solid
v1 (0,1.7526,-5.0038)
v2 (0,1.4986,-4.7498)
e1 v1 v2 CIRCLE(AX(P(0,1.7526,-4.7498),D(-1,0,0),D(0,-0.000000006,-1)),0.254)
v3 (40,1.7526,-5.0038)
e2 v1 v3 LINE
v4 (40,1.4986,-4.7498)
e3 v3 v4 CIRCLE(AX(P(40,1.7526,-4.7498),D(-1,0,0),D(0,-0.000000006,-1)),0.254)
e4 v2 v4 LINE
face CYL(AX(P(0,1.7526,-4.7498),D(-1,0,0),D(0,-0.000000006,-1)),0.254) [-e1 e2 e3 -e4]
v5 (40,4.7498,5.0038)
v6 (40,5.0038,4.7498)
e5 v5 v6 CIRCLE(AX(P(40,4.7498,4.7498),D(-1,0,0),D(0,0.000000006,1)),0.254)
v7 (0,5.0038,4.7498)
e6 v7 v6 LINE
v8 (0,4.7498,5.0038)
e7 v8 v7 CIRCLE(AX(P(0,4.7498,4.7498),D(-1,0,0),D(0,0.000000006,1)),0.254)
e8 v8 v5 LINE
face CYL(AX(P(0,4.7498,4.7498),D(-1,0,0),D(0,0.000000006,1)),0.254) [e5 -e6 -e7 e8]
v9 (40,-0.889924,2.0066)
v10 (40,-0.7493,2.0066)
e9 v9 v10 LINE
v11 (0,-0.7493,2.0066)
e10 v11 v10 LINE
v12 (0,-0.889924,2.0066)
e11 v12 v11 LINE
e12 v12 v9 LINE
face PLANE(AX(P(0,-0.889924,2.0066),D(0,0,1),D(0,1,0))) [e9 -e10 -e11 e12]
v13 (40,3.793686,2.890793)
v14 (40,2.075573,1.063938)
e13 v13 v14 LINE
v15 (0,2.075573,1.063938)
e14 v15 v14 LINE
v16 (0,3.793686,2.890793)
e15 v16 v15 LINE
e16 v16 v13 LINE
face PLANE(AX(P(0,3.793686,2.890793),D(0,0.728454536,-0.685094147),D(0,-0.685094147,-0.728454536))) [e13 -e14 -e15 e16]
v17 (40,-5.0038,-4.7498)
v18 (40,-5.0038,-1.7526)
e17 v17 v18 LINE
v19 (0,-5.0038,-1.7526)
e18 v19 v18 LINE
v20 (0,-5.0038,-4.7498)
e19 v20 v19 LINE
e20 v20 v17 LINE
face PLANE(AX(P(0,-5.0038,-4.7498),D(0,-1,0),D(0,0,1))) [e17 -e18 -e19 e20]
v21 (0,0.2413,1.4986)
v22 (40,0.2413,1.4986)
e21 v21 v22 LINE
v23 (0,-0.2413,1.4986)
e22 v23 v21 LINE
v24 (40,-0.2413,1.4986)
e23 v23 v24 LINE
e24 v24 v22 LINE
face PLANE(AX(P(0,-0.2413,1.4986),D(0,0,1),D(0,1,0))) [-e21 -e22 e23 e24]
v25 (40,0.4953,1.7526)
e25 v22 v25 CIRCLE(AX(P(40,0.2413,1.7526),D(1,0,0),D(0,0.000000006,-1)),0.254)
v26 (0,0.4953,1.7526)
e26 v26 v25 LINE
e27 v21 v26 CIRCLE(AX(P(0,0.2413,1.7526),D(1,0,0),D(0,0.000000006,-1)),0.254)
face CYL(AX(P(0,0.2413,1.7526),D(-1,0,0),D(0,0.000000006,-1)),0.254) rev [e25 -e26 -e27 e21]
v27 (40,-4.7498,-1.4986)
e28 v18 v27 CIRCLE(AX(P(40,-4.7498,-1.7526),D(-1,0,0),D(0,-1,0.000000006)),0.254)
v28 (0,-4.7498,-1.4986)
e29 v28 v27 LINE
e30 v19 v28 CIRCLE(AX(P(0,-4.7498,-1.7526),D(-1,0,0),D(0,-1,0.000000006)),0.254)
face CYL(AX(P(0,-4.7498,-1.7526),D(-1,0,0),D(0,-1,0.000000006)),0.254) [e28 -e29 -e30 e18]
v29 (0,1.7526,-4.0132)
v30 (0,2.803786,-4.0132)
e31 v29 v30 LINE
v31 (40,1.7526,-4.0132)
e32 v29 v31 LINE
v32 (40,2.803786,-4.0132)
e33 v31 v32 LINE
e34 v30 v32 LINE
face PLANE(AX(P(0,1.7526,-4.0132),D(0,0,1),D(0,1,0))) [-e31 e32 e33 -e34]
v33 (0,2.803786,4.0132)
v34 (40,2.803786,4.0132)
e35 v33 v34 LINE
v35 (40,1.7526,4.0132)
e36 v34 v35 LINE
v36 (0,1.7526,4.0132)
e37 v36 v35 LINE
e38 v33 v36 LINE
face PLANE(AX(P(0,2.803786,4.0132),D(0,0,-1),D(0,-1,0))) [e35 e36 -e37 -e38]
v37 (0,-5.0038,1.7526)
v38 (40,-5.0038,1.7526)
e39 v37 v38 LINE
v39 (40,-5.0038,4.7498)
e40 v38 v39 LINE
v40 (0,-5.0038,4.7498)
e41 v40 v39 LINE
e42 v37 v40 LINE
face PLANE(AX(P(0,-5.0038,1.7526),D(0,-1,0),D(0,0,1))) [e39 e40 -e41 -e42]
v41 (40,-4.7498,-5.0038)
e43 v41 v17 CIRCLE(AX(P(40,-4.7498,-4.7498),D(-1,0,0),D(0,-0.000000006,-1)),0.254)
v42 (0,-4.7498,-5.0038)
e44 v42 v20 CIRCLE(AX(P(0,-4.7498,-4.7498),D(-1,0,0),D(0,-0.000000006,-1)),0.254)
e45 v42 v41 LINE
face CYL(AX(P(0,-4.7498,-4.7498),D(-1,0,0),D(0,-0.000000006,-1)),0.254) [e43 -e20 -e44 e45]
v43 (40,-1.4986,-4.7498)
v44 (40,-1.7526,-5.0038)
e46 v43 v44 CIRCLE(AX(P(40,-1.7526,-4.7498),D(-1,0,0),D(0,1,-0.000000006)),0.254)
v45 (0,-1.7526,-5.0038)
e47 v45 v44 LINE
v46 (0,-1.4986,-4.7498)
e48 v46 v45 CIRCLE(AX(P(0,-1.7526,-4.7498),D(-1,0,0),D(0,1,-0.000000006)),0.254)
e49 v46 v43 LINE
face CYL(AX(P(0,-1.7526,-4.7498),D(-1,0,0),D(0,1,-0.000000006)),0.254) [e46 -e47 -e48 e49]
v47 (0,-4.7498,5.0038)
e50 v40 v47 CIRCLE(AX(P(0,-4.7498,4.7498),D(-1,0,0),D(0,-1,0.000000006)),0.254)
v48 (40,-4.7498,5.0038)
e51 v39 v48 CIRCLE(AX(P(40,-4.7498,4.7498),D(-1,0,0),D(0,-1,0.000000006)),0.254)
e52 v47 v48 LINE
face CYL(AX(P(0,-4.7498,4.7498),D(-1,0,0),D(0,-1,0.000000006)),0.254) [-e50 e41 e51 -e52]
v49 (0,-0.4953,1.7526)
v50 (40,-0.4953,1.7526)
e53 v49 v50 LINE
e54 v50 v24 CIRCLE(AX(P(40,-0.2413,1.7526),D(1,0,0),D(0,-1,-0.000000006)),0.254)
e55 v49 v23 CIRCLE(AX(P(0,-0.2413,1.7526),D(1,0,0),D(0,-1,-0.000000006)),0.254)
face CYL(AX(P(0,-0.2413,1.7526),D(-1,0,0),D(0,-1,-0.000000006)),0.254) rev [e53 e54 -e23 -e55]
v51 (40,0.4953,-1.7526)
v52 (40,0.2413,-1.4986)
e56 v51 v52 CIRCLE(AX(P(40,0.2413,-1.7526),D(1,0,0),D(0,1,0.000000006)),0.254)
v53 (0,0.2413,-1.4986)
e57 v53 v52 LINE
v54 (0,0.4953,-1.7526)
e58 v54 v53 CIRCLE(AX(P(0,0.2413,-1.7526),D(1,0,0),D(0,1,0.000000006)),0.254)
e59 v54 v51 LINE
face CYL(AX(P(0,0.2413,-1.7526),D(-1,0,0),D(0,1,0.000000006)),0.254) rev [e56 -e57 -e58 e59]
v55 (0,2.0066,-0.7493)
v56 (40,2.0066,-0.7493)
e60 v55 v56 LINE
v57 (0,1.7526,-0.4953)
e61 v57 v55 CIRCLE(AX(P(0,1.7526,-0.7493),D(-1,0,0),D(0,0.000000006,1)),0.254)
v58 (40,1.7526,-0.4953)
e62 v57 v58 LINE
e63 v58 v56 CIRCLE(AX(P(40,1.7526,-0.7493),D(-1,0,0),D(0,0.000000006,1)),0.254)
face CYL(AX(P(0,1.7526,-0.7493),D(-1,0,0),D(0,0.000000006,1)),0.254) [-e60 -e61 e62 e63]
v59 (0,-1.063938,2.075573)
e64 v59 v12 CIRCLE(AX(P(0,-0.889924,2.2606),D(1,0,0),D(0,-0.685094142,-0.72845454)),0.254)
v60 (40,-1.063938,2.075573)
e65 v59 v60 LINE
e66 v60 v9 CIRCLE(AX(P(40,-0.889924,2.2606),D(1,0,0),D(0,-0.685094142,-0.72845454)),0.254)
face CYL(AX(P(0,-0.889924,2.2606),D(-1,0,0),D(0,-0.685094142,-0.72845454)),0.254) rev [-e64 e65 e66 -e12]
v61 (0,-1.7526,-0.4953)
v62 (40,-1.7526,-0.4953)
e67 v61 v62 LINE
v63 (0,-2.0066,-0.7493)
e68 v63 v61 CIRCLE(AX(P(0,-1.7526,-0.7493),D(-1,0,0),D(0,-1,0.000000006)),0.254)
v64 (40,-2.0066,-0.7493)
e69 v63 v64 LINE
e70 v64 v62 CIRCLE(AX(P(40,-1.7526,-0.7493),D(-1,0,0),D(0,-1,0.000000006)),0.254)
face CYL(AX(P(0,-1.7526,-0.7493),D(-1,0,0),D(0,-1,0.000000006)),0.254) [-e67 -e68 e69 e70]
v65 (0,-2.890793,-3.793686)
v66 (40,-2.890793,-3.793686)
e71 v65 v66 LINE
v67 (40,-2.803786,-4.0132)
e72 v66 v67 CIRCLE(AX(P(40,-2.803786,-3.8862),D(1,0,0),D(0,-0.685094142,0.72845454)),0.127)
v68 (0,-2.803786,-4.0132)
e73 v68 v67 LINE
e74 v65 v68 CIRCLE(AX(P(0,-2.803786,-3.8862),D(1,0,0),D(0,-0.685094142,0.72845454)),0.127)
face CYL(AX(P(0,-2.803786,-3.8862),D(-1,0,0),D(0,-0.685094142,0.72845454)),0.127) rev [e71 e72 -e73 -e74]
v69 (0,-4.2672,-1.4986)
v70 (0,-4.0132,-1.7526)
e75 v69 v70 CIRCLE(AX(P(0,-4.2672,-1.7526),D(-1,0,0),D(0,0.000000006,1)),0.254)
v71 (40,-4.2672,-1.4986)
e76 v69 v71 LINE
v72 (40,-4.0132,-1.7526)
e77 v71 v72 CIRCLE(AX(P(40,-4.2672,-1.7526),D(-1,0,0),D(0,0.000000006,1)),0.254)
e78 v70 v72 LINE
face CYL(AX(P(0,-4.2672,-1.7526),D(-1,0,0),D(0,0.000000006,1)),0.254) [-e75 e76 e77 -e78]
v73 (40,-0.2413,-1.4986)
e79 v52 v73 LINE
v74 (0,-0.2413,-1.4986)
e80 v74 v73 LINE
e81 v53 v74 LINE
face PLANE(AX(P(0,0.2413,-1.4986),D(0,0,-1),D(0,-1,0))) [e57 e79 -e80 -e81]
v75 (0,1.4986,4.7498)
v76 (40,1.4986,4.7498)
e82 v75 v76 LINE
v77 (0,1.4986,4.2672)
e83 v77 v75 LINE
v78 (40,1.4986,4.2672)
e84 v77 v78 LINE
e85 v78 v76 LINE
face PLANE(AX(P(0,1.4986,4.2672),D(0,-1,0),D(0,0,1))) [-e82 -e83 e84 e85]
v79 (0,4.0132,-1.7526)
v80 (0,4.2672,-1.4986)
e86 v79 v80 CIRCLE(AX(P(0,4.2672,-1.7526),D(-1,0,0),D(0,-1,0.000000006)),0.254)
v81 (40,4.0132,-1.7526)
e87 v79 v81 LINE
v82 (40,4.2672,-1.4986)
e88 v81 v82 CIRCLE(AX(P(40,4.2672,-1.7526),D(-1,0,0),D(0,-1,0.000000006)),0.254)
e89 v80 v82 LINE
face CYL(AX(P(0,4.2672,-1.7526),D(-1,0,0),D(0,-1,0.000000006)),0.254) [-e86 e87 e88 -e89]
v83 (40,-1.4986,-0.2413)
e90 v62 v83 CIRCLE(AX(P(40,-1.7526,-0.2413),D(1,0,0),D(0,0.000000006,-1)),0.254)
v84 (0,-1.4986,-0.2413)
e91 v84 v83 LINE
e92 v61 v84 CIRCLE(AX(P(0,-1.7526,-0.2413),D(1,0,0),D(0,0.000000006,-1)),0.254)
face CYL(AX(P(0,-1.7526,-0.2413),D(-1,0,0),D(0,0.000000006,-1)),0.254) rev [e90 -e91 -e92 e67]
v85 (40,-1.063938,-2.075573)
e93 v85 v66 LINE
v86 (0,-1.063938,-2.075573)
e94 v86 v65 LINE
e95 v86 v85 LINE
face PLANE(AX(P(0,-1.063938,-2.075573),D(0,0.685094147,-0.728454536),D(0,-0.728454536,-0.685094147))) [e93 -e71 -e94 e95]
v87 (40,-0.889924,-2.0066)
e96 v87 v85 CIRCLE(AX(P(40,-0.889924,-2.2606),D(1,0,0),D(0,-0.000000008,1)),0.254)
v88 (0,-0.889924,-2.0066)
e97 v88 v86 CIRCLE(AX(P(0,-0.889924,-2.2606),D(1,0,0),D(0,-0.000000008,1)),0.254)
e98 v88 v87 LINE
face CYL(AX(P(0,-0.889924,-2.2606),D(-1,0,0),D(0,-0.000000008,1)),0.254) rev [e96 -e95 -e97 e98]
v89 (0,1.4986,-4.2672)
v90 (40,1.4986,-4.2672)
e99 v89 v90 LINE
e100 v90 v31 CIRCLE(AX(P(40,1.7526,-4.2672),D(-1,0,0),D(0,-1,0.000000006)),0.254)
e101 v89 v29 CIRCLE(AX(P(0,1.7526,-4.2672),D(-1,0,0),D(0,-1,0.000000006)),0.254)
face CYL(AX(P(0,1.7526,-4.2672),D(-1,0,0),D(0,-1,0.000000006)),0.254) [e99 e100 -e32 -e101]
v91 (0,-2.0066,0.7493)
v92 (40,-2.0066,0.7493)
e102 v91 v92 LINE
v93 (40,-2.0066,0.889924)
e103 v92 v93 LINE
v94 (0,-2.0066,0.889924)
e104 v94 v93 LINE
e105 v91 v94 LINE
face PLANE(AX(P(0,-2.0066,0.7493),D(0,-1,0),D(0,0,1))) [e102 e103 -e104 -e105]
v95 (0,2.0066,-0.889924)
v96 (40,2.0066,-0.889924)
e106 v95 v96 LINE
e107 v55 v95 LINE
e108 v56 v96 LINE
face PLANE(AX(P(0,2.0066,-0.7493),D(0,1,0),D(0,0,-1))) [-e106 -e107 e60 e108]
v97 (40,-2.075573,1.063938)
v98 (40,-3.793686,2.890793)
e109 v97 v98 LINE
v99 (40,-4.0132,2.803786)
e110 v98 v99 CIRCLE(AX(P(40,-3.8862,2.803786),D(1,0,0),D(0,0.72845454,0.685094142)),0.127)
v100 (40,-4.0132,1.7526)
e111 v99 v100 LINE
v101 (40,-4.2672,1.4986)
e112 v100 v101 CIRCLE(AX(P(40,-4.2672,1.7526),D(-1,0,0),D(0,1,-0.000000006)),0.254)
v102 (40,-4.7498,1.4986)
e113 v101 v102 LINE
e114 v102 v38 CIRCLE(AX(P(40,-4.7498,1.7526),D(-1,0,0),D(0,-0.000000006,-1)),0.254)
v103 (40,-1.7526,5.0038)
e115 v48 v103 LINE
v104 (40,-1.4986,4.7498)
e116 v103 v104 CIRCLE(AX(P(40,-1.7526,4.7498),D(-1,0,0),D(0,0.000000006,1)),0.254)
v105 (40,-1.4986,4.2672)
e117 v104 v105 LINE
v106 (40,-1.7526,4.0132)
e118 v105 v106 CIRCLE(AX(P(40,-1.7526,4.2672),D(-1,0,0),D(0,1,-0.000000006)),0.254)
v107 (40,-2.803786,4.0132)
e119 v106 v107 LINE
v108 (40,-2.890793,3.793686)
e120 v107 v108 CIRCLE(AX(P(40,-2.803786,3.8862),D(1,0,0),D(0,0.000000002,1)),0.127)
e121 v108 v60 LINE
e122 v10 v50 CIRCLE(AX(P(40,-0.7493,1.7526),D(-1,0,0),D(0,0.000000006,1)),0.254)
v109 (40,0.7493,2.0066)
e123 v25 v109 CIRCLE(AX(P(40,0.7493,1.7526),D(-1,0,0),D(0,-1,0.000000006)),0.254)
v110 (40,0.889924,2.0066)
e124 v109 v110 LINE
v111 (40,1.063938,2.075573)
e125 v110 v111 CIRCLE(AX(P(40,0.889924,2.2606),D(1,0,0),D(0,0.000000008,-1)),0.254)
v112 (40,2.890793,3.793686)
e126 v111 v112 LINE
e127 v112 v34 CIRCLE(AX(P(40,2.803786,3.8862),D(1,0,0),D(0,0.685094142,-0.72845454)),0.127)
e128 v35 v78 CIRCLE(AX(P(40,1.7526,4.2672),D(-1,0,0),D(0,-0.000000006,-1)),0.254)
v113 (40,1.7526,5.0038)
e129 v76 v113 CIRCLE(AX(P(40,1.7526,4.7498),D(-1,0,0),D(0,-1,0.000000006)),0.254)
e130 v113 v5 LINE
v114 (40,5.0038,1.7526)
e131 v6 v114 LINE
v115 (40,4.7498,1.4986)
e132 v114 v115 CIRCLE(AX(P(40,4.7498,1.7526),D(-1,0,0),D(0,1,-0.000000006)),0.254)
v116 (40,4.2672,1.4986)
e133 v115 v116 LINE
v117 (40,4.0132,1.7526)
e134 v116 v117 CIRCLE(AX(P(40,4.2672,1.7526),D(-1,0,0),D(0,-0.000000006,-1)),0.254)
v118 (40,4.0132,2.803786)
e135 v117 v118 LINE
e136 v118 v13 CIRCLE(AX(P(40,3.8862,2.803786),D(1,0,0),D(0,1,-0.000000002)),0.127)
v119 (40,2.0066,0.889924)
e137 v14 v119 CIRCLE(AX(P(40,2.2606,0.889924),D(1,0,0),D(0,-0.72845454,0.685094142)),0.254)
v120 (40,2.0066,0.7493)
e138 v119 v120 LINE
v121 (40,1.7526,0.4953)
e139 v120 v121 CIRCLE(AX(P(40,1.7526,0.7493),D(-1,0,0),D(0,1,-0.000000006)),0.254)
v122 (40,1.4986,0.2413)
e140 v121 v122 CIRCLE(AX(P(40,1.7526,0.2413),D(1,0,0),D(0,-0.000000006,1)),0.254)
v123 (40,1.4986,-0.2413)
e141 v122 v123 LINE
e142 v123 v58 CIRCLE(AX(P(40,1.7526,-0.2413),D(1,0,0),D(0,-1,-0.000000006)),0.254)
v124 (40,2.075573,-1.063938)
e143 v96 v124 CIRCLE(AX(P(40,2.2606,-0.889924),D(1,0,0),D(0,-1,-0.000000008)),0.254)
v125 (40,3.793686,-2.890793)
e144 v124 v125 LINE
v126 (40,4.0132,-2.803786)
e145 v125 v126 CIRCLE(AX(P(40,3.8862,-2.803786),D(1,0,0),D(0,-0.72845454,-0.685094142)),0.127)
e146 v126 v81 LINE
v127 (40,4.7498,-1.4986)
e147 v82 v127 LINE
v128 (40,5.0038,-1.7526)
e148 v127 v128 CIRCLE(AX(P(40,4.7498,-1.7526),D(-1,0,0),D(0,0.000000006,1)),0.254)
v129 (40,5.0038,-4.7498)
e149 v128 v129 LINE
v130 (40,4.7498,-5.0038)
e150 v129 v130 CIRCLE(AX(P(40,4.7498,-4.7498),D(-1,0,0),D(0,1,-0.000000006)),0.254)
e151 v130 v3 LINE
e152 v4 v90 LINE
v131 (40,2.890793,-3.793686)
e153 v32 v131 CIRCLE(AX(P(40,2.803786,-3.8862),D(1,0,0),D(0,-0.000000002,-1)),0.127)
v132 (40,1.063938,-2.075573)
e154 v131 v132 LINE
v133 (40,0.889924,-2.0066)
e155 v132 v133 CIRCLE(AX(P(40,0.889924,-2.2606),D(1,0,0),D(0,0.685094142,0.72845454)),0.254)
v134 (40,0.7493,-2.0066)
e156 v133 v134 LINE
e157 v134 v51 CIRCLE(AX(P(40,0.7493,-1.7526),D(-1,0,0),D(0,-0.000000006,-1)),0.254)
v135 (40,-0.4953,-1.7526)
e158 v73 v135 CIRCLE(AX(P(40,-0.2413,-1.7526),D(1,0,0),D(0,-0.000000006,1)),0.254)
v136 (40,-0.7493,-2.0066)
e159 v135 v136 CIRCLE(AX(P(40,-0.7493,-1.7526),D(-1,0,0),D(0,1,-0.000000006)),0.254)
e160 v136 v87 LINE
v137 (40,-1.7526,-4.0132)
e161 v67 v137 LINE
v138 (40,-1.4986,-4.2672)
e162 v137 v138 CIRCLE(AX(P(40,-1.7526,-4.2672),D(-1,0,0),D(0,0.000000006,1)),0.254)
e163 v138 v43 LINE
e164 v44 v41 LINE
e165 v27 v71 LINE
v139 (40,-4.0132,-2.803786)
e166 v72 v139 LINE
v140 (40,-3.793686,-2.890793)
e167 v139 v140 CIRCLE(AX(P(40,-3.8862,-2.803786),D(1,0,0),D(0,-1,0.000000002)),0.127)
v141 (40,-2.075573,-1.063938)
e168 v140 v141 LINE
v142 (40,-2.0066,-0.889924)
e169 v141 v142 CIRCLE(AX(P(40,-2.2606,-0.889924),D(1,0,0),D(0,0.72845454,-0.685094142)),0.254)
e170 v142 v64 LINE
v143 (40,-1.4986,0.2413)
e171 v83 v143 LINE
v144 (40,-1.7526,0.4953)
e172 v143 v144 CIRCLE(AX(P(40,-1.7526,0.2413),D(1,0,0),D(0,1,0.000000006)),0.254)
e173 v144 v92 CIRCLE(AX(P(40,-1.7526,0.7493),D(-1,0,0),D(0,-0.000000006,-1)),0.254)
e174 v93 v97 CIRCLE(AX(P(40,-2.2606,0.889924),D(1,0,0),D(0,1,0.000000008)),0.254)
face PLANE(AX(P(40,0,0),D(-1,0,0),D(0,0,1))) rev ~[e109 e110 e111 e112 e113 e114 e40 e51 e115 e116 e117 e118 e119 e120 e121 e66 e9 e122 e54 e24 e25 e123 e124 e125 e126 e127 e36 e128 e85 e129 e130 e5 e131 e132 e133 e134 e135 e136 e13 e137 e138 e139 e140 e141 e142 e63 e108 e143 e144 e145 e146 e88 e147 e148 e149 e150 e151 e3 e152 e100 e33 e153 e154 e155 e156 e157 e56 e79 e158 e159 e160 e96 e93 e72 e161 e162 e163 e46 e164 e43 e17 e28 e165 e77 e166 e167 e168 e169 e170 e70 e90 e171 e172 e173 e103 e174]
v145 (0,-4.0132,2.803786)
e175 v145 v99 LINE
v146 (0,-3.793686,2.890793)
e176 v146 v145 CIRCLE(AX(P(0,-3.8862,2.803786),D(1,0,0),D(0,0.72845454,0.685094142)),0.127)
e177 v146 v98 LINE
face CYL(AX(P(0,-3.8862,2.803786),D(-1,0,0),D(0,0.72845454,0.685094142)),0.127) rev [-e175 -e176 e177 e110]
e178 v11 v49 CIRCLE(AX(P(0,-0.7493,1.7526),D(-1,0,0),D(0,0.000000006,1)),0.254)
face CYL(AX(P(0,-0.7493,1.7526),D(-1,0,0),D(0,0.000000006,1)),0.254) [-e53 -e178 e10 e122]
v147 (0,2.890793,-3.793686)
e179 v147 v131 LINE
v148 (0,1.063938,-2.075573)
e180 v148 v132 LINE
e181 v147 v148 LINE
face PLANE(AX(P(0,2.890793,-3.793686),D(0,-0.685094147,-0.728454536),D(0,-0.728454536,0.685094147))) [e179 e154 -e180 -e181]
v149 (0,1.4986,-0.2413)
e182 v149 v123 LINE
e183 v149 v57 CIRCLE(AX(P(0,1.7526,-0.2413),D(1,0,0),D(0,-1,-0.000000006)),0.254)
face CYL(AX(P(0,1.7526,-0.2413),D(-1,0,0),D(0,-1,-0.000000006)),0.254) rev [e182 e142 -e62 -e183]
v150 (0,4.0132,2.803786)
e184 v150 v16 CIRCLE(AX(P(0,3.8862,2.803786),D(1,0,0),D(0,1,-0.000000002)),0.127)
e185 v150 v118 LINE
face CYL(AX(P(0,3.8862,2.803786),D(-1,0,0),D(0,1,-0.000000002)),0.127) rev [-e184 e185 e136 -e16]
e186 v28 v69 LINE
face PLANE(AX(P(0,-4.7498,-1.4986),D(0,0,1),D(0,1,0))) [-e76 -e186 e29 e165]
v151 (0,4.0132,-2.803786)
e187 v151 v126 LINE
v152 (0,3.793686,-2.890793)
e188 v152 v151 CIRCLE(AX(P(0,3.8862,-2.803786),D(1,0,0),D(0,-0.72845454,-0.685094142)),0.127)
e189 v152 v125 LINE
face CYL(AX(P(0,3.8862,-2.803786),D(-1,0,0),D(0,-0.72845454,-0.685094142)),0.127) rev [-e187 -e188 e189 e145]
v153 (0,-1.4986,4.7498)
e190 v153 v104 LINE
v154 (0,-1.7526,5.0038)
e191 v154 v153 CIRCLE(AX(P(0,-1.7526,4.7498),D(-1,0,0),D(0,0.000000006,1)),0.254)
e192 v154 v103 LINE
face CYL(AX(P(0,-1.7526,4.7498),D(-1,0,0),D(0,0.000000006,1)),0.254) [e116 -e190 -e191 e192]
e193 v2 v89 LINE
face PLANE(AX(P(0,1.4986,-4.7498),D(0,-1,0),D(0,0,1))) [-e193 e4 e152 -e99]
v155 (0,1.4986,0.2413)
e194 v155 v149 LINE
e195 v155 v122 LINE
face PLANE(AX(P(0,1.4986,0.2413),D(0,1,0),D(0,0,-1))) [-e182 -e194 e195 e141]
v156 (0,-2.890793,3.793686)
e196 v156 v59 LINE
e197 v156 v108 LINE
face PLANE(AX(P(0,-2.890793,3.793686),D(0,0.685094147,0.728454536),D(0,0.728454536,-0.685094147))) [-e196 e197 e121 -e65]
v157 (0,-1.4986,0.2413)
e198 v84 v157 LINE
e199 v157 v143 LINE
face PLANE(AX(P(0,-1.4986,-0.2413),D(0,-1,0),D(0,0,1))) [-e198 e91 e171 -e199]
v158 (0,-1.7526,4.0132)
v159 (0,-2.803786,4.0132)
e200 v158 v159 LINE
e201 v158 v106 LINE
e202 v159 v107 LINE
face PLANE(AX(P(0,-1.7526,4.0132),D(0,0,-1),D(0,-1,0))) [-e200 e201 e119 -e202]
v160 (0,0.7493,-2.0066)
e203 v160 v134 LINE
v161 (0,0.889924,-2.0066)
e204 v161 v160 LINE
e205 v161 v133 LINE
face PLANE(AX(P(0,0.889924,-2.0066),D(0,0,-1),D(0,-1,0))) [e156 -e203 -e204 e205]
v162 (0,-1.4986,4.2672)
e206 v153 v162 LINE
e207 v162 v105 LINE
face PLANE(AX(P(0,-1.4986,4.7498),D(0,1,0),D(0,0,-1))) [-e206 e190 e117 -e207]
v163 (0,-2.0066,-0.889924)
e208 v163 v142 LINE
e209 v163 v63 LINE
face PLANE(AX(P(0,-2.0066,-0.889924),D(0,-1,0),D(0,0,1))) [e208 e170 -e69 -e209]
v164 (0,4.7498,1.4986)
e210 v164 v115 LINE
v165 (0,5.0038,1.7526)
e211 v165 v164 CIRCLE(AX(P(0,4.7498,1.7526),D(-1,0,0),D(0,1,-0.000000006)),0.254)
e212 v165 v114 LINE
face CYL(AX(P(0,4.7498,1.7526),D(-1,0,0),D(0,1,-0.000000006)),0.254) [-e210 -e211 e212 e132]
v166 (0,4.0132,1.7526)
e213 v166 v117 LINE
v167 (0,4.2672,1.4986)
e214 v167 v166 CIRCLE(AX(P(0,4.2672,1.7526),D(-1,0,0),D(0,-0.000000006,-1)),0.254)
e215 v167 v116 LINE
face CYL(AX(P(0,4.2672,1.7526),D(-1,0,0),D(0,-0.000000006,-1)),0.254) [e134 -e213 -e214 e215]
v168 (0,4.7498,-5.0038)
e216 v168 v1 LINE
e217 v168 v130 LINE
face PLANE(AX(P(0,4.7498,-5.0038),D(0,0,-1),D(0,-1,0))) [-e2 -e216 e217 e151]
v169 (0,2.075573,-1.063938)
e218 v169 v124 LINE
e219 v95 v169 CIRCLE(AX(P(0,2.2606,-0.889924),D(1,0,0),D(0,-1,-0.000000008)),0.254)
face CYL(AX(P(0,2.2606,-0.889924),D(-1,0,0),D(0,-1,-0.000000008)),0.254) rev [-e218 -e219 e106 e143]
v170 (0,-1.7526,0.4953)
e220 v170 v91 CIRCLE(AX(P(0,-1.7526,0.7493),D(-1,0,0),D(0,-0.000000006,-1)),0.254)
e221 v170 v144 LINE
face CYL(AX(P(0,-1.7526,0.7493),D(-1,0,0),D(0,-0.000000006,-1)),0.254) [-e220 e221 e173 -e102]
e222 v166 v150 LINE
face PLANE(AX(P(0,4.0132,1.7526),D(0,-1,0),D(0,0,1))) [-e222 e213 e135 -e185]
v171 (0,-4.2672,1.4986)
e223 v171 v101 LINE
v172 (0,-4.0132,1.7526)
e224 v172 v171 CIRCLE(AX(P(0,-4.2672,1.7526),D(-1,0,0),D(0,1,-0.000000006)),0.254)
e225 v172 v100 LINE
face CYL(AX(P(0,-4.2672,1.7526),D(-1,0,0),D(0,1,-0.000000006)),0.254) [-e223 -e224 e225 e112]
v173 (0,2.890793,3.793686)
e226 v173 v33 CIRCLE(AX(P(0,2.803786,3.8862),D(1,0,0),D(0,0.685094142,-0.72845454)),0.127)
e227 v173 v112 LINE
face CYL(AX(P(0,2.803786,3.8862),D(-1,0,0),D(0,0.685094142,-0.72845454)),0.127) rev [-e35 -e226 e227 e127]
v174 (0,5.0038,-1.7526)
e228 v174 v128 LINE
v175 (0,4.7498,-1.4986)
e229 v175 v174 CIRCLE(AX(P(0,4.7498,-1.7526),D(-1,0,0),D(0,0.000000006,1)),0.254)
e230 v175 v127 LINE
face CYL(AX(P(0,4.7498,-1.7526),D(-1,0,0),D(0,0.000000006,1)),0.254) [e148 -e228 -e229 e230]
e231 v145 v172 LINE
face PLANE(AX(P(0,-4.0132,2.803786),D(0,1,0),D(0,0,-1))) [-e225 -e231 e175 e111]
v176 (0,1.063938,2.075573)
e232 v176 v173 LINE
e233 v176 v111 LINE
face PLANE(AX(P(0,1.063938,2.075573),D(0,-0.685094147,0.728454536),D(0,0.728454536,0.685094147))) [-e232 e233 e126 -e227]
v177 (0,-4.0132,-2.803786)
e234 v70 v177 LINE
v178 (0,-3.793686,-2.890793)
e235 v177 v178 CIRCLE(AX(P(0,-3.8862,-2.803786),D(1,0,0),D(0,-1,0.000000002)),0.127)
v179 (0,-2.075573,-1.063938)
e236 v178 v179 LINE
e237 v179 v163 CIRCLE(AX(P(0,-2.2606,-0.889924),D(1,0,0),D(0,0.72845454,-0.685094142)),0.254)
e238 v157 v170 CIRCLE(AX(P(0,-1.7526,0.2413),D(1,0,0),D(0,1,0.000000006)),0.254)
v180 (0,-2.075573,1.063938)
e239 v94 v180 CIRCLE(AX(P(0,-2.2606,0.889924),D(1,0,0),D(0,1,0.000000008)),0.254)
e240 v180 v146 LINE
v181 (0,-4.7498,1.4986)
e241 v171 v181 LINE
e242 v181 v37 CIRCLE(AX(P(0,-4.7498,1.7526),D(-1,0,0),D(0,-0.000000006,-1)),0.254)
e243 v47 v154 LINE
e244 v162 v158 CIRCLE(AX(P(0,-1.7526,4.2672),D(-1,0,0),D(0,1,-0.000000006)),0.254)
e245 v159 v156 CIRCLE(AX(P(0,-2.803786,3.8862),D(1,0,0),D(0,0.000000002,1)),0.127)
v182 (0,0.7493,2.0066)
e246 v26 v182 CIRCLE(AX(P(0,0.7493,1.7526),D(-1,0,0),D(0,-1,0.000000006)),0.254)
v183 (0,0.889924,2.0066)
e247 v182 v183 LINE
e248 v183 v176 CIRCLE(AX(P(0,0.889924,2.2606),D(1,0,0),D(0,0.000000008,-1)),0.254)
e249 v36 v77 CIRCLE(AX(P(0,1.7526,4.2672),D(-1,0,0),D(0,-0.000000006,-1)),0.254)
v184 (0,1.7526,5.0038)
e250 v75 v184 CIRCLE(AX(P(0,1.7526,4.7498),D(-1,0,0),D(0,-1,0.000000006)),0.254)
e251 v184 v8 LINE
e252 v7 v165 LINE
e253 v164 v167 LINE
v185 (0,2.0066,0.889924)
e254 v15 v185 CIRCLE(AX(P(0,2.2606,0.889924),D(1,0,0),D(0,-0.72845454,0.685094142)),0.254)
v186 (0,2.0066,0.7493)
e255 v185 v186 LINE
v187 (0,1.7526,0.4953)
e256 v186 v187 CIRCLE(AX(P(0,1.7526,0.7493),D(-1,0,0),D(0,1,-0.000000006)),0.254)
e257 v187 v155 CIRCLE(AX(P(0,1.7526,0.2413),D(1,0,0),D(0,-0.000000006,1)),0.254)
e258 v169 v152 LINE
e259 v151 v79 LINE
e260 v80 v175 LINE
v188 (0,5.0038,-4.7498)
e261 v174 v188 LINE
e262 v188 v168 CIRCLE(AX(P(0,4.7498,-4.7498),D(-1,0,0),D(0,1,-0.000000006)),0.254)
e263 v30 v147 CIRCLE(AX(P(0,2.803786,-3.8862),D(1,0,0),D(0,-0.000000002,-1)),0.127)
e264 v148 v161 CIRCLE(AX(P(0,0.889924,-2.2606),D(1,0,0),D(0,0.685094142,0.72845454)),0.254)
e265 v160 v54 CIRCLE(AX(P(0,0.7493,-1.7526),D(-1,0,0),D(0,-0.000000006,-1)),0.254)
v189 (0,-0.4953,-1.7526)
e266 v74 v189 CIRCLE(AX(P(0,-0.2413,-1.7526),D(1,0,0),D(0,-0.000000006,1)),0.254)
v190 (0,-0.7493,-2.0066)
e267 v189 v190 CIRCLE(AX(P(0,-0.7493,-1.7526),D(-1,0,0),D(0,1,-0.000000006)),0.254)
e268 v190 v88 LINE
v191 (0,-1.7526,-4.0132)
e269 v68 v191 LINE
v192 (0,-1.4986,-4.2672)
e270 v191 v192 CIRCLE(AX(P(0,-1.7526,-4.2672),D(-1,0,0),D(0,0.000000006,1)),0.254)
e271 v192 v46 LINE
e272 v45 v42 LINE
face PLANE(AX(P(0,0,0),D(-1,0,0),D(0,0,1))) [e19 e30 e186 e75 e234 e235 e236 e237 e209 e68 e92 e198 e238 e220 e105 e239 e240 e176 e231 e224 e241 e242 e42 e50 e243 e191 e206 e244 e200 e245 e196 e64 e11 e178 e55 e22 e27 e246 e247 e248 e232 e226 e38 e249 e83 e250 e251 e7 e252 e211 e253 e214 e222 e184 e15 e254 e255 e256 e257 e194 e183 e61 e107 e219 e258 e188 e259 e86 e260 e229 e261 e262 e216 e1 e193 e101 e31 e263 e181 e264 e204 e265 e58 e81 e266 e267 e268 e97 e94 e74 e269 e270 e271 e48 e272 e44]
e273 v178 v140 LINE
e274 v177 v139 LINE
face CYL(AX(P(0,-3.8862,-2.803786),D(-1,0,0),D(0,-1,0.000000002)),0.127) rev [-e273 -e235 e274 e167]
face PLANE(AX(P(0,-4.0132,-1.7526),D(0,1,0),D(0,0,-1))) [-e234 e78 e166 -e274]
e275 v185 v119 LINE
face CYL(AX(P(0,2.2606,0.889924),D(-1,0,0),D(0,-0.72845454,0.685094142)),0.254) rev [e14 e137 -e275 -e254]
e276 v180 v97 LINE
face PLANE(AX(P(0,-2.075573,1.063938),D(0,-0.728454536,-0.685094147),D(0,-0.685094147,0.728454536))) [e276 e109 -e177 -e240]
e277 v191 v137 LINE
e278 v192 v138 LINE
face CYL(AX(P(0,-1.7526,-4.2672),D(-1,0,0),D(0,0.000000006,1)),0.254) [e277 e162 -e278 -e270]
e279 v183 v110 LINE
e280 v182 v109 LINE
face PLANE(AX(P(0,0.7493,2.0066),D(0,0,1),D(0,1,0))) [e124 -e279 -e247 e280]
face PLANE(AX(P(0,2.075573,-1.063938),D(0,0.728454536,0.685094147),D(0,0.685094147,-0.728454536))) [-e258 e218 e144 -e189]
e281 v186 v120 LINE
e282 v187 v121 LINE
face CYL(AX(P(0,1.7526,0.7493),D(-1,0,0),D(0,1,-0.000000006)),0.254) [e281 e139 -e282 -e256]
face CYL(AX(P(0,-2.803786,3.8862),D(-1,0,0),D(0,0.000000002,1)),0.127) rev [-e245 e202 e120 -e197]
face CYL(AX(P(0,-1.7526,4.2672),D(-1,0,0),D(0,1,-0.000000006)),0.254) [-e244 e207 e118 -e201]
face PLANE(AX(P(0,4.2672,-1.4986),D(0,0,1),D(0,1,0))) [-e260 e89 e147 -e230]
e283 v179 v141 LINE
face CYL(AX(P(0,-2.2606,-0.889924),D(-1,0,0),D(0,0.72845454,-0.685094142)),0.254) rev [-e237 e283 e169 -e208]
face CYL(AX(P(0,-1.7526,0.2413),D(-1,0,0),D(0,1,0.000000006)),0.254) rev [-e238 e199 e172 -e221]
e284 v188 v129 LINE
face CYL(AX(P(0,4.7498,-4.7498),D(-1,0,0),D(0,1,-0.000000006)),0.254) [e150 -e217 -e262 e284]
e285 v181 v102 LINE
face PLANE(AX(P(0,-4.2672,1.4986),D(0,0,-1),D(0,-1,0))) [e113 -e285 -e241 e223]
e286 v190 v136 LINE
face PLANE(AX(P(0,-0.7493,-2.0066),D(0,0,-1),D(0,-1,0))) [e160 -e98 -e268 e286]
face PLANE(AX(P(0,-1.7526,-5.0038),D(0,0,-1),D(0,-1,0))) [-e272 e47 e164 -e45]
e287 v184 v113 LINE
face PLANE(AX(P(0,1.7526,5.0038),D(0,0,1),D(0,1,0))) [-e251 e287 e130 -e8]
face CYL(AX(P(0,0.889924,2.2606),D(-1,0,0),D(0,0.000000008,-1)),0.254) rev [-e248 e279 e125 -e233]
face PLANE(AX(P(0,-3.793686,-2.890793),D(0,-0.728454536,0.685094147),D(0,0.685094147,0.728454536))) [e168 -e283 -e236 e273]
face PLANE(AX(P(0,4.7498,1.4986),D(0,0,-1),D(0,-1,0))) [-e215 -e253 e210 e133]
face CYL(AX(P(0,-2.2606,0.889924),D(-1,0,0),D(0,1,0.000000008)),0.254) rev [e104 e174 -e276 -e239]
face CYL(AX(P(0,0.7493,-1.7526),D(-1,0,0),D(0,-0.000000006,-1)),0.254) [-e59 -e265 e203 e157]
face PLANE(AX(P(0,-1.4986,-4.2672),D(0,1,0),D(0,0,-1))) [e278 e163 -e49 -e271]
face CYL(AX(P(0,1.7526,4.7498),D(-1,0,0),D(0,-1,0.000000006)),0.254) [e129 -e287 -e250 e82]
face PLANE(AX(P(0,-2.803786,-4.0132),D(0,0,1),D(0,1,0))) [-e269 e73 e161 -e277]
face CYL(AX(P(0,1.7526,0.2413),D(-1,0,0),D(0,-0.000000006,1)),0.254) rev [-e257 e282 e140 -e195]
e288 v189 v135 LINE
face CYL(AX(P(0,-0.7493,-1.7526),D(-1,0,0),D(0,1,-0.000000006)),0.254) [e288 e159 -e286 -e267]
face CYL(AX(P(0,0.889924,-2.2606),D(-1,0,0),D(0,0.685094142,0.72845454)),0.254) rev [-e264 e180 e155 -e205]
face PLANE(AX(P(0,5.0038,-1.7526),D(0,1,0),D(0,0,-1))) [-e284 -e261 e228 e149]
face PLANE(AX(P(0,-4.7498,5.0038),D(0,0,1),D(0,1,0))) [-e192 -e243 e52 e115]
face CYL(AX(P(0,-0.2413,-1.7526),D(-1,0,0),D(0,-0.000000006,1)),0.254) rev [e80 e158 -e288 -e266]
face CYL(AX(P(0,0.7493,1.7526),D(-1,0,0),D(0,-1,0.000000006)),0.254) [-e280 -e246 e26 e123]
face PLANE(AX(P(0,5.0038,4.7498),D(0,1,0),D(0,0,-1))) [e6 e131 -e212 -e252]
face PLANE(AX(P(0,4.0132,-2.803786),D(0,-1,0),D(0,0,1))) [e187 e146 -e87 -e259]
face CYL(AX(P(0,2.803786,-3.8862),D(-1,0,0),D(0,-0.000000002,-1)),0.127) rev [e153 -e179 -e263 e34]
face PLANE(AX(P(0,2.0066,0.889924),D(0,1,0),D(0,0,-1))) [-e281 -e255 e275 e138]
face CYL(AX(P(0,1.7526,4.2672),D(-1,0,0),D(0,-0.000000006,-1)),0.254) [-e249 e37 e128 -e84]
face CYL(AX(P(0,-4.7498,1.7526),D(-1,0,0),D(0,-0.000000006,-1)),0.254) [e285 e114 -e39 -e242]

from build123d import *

# Parameters (mm, degrees)
BOSS_EXTRU_1_DEPTH = 40


with BuildPart() as part:
    # Sketch1 → Boss.-Extru.1 (new body)
    with BuildSketch(Plane(origin=(0, 0, 0), x_dir=(0, 0, -1), z_dir=(1, 0, 0))):
        with BuildLine():
            Line((-0.2413, 1.4986), (0.2413, 1.4986))
            ThreePointArc((0.2413, 1.4986), (0.420905122, 1.572994878), (0.4953, 1.7526))
            ThreePointArc((0.4953, 1.7526), (0.569694878, 1.932205122), (0.7493, 2.0066))
            Line((0.7493, 2.0066), (0.889923986, 2.0066))
            ThreePointArc((0.889923986, 2.0066), (0.983516259, 2.024471886), (1.063937899, 2.075572548))
            Line((1.063937899, 2.075572548), (2.890793, 3.793686274))
            ThreePointArc((2.890793, 3.793686274), (2.921850101, 3.932996137), (2.803786044, 4.0132))
            Line((2.803786044, 4.0132), (1.7526, 4.0132))
            ThreePointArc((1.7526, 4.0132), (1.572994878, 4.087594878), (1.4986, 4.2672))
            Line((1.4986, 4.2672), (1.4986, 4.7498))
            ThreePointArc((1.4986, 4.7498), (1.572994878, 4.929405122), (1.7526, 5.0038))
            Line((1.7526, 5.0038), (4.7498, 5.0038))
            ThreePointArc((4.7498, 5.0038), (4.929405122, 4.929405122), (5.0038, 4.7498))
            Line((5.0038, 4.7498), (5.0038, 1.7526))
            ThreePointArc((5.0038, 1.7526), (4.929405122, 1.572994878), (4.7498, 1.4986))
            Line((4.7498, 1.4986), (4.2672, 1.4986))
            ThreePointArc((4.2672, 1.4986), (4.087594878, 1.572994878), (4.0132, 1.7526))
            Line((4.0132, 1.7526), (4.0132, 2.803786044))
            ThreePointArc((4.0132, 2.803786044), (3.932996137, 2.921850101), (3.793686274, 2.890793))
            Line((3.793686274, 2.890793), (2.075572548, 1.063937899))
            ThreePointArc((2.075572548, 1.063937899), (2.024471886, 0.983516259), (2.0066, 0.889923986))
            Line((2.0066, 0.889923986), (2.0066, 0.7493))
            ThreePointArc((2.0066, 0.7493), (1.932205122, 0.569694878), (1.7526, 0.4953))
            ThreePointArc((1.7526, 0.4953), (1.572994878, 0.420905122), (1.4986, 0.2413))
            Line((1.4986, 0.2413), (1.4986, -0.2413))
            ThreePointArc((1.4986, -0.2413), (1.572994878, -0.420905122), (1.7526, -0.4953))
            ThreePointArc((1.7526, -0.4953), (1.932205122, -0.569694878), (2.0066, -0.7493))
            Line((2.0066, -0.7493), (2.0066, -0.889923986))
            ThreePointArc((2.0066, -0.889923986), (2.024471886, -0.983516259), (2.075572548, -1.063937899))
            Line((2.075572548, -1.063937899), (3.793686274, -2.890793))
            ThreePointArc((3.793686274, -2.890793), (3.932996137, -2.921850101), (4.0132, -2.803786044))
            Line((4.0132, -2.803786044), (4.0132, -1.7526))
            ThreePointArc((4.0132, -1.7526), (4.087594878, -1.572994878), (4.2672, -1.4986))
            Line((4.2672, -1.4986), (4.7498, -1.4986))
            ThreePointArc((4.7498, -1.4986), (4.929405122, -1.572994878), (5.0038, -1.7526))
            Line((5.0038, -1.7526), (5.0038, -4.7498))
            ThreePointArc((5.0038, -4.7498), (4.929405122, -4.929405122), (4.7498, -5.0038))
            Line((4.7498, -5.0038), (1.7526, -5.0038))
            ThreePointArc((1.7526, -5.0038), (1.572994878, -4.929405122), (1.4986, -4.7498))
            Line((1.4986, -4.7498), (1.4986, -4.2672))
            ThreePointArc((1.4986, -4.2672), (1.572994878, -4.087594878), (1.7526, -4.0132))
            Line((1.7526, -4.0132), (2.803786044, -4.0132))
            ThreePointArc((2.803786044, -4.0132), (2.921850101, -3.932996137), (2.890793, -3.793686274))
            Line((2.890793, -3.793686274), (1.063937899, -2.075572548))
            ThreePointArc((1.063937899, -2.075572548), (0.983516259, -2.024471886), (0.889923986, -2.0066))
            Line((0.889923986, -2.0066), (0.7493, -2.0066))
            ThreePointArc((0.7493, -2.0066), (0.569694878, -1.932205122), (0.4953, -1.7526))
            ThreePointArc((0.4953, -1.7526), (0.420905122, -1.572994878), (0.2413, -1.4986))
            Line((0.2413, -1.4986), (-0.2413, -1.4986))
            ThreePointArc((-0.2413, -1.4986), (-0.420905122, -1.572994878), (-0.4953, -1.7526))
            ThreePointArc((-0.4953, -1.7526), (-0.569694878, -1.932205122), (-0.7493, -2.0066))
            Line((-0.7493, -2.0066), (-0.889923986, -2.0066))
            ThreePointArc((-0.889923986, -2.0066), (-0.983516259, -2.024471886), (-1.063937899, -2.075572548))
            Line((-1.063937899, -2.075572548), (-2.890793, -3.793686274))
            ThreePointArc((-2.890793, -3.793686274), (-2.921850101, -3.932996137), (-2.803786044, -4.0132))
            Line((-2.803786044, -4.0132), (-1.7526, -4.0132))
            ThreePointArc((-1.7526, -4.0132), (-1.572994878, -4.087594878), (-1.4986, -4.2672))
            Line((-1.4986, -4.2672), (-1.4986, -4.7498))
            ThreePointArc((-1.4986, -4.7498), (-1.572994878, -4.929405122), (-1.7526, -5.0038))
            Line((-1.7526, -5.0038), (-4.7498, -5.0038))
            ThreePointArc((-4.7498, -5.0038), (-4.929405122, -4.929405122), (-5.0038, -4.7498))
            Line((-5.0038, -4.7498), (-5.0038, -1.7526))
            ThreePointArc((-5.0038, -1.7526), (-4.929405122, -1.572994878), (-4.7498, -1.4986))
            Line((-4.7498, -1.4986), (-4.2672, -1.4986))
            ThreePointArc((-4.2672, -1.4986), (-4.087594878, -1.572994878), (-4.0132, -1.7526))
            Line((-4.0132, -1.7526), (-4.0132, -2.803786044))
            ThreePointArc((-4.0132, -2.803786044), (-3.932996137, -2.921850101), (-3.793686274, -2.890793))
            Line((-3.793686274, -2.890793), (-2.075572548, -1.063937899))
            ThreePointArc((-2.075572548, -1.063937899), (-2.024471886, -0.983516259), (-2.0066, -0.889923986))
            Line((-2.0066, -0.889923986), (-2.0066, -0.7493))
            ThreePointArc((-2.0066, -0.7493), (-1.932205122, -0.569694878), (-1.7526, -0.4953))
            ThreePointArc((-1.7526, -0.4953), (-1.572994878, -0.420905122), (-1.4986, -0.2413))
            Line((-1.4986, -0.2413), (-1.4986, 0.2413))
            ThreePointArc((-1.4986, 0.2413), (-1.572994878, 0.420905122), (-1.7526, 0.4953))
            ThreePointArc((-1.7526, 0.4953), (-1.932205122, 0.569694878), (-2.0066, 0.7493))
            Line((-2.0066, 0.7493), (-2.0066, 0.889923986))
            ThreePointArc((-2.0066, 0.889923986), (-2.024471886, 0.983516259), (-2.075572548, 1.063937899))
            Line((-2.075572548, 1.063937899), (-3.793686274, 2.890793))
            ThreePointArc((-3.793686274, 2.890793), (-3.932996137, 2.921850101), (-4.0132, 2.803786044))
            Line((-4.0132, 2.803786044), (-4.0132, 1.7526))
            ThreePointArc((-4.0132, 1.7526), (-4.087594878, 1.572994878), (-4.2672, 1.4986))
            Line((-4.2672, 1.4986), (-4.7498, 1.4986))
            ThreePointArc((-4.7498, 1.4986), (-4.929405122, 1.572994878), (-5.0038, 1.7526))
            Line((-5.0038, 1.7526), (-5.0038, 4.7498))
            ThreePointArc((-5.0038, 4.7498), (-4.929405122, 4.929405122), (-4.7498, 5.0038))
            Line((-4.7498, 5.0038), (-1.7526, 5.0038))
            ThreePointArc((-1.7526, 5.0038), (-1.572994878, 4.929405122), (-1.4986, 4.7498))
            Line((-1.4986, 4.7498), (-1.4986, 4.2672))
            ThreePointArc((-1.4986, 4.2672), (-1.572994878, 4.087594878), (-1.7526, 4.0132))
            Line((-1.7526, 4.0132), (-2.803786044, 4.0132))
            ThreePointArc((-2.803786044, 4.0132), (-2.921850101, 3.932996137), (-2.890793, 3.793686274))
            Line((-2.890793, 3.793686274), (-1.063937899, 2.075572548))
            ThreePointArc((-1.063937899, 2.075572548), (-0.983516259, 2.024471886), (-0.889923986, 2.0066))
            Line((-0.889923986, 2.0066), (-0.7493, 2.0066))
            ThreePointArc((-0.7493, 2.0066), (-0.569694878, 1.932205122), (-0.4953, 1.7526))
            ThreePointArc((-0.4953, 1.7526), (-0.420905122, 1.572994878), (-0.2413, 1.4986))
        make_face()
    extrude(amount=BOSS_EXTRU_1_DEPTH)


solid = part.part
